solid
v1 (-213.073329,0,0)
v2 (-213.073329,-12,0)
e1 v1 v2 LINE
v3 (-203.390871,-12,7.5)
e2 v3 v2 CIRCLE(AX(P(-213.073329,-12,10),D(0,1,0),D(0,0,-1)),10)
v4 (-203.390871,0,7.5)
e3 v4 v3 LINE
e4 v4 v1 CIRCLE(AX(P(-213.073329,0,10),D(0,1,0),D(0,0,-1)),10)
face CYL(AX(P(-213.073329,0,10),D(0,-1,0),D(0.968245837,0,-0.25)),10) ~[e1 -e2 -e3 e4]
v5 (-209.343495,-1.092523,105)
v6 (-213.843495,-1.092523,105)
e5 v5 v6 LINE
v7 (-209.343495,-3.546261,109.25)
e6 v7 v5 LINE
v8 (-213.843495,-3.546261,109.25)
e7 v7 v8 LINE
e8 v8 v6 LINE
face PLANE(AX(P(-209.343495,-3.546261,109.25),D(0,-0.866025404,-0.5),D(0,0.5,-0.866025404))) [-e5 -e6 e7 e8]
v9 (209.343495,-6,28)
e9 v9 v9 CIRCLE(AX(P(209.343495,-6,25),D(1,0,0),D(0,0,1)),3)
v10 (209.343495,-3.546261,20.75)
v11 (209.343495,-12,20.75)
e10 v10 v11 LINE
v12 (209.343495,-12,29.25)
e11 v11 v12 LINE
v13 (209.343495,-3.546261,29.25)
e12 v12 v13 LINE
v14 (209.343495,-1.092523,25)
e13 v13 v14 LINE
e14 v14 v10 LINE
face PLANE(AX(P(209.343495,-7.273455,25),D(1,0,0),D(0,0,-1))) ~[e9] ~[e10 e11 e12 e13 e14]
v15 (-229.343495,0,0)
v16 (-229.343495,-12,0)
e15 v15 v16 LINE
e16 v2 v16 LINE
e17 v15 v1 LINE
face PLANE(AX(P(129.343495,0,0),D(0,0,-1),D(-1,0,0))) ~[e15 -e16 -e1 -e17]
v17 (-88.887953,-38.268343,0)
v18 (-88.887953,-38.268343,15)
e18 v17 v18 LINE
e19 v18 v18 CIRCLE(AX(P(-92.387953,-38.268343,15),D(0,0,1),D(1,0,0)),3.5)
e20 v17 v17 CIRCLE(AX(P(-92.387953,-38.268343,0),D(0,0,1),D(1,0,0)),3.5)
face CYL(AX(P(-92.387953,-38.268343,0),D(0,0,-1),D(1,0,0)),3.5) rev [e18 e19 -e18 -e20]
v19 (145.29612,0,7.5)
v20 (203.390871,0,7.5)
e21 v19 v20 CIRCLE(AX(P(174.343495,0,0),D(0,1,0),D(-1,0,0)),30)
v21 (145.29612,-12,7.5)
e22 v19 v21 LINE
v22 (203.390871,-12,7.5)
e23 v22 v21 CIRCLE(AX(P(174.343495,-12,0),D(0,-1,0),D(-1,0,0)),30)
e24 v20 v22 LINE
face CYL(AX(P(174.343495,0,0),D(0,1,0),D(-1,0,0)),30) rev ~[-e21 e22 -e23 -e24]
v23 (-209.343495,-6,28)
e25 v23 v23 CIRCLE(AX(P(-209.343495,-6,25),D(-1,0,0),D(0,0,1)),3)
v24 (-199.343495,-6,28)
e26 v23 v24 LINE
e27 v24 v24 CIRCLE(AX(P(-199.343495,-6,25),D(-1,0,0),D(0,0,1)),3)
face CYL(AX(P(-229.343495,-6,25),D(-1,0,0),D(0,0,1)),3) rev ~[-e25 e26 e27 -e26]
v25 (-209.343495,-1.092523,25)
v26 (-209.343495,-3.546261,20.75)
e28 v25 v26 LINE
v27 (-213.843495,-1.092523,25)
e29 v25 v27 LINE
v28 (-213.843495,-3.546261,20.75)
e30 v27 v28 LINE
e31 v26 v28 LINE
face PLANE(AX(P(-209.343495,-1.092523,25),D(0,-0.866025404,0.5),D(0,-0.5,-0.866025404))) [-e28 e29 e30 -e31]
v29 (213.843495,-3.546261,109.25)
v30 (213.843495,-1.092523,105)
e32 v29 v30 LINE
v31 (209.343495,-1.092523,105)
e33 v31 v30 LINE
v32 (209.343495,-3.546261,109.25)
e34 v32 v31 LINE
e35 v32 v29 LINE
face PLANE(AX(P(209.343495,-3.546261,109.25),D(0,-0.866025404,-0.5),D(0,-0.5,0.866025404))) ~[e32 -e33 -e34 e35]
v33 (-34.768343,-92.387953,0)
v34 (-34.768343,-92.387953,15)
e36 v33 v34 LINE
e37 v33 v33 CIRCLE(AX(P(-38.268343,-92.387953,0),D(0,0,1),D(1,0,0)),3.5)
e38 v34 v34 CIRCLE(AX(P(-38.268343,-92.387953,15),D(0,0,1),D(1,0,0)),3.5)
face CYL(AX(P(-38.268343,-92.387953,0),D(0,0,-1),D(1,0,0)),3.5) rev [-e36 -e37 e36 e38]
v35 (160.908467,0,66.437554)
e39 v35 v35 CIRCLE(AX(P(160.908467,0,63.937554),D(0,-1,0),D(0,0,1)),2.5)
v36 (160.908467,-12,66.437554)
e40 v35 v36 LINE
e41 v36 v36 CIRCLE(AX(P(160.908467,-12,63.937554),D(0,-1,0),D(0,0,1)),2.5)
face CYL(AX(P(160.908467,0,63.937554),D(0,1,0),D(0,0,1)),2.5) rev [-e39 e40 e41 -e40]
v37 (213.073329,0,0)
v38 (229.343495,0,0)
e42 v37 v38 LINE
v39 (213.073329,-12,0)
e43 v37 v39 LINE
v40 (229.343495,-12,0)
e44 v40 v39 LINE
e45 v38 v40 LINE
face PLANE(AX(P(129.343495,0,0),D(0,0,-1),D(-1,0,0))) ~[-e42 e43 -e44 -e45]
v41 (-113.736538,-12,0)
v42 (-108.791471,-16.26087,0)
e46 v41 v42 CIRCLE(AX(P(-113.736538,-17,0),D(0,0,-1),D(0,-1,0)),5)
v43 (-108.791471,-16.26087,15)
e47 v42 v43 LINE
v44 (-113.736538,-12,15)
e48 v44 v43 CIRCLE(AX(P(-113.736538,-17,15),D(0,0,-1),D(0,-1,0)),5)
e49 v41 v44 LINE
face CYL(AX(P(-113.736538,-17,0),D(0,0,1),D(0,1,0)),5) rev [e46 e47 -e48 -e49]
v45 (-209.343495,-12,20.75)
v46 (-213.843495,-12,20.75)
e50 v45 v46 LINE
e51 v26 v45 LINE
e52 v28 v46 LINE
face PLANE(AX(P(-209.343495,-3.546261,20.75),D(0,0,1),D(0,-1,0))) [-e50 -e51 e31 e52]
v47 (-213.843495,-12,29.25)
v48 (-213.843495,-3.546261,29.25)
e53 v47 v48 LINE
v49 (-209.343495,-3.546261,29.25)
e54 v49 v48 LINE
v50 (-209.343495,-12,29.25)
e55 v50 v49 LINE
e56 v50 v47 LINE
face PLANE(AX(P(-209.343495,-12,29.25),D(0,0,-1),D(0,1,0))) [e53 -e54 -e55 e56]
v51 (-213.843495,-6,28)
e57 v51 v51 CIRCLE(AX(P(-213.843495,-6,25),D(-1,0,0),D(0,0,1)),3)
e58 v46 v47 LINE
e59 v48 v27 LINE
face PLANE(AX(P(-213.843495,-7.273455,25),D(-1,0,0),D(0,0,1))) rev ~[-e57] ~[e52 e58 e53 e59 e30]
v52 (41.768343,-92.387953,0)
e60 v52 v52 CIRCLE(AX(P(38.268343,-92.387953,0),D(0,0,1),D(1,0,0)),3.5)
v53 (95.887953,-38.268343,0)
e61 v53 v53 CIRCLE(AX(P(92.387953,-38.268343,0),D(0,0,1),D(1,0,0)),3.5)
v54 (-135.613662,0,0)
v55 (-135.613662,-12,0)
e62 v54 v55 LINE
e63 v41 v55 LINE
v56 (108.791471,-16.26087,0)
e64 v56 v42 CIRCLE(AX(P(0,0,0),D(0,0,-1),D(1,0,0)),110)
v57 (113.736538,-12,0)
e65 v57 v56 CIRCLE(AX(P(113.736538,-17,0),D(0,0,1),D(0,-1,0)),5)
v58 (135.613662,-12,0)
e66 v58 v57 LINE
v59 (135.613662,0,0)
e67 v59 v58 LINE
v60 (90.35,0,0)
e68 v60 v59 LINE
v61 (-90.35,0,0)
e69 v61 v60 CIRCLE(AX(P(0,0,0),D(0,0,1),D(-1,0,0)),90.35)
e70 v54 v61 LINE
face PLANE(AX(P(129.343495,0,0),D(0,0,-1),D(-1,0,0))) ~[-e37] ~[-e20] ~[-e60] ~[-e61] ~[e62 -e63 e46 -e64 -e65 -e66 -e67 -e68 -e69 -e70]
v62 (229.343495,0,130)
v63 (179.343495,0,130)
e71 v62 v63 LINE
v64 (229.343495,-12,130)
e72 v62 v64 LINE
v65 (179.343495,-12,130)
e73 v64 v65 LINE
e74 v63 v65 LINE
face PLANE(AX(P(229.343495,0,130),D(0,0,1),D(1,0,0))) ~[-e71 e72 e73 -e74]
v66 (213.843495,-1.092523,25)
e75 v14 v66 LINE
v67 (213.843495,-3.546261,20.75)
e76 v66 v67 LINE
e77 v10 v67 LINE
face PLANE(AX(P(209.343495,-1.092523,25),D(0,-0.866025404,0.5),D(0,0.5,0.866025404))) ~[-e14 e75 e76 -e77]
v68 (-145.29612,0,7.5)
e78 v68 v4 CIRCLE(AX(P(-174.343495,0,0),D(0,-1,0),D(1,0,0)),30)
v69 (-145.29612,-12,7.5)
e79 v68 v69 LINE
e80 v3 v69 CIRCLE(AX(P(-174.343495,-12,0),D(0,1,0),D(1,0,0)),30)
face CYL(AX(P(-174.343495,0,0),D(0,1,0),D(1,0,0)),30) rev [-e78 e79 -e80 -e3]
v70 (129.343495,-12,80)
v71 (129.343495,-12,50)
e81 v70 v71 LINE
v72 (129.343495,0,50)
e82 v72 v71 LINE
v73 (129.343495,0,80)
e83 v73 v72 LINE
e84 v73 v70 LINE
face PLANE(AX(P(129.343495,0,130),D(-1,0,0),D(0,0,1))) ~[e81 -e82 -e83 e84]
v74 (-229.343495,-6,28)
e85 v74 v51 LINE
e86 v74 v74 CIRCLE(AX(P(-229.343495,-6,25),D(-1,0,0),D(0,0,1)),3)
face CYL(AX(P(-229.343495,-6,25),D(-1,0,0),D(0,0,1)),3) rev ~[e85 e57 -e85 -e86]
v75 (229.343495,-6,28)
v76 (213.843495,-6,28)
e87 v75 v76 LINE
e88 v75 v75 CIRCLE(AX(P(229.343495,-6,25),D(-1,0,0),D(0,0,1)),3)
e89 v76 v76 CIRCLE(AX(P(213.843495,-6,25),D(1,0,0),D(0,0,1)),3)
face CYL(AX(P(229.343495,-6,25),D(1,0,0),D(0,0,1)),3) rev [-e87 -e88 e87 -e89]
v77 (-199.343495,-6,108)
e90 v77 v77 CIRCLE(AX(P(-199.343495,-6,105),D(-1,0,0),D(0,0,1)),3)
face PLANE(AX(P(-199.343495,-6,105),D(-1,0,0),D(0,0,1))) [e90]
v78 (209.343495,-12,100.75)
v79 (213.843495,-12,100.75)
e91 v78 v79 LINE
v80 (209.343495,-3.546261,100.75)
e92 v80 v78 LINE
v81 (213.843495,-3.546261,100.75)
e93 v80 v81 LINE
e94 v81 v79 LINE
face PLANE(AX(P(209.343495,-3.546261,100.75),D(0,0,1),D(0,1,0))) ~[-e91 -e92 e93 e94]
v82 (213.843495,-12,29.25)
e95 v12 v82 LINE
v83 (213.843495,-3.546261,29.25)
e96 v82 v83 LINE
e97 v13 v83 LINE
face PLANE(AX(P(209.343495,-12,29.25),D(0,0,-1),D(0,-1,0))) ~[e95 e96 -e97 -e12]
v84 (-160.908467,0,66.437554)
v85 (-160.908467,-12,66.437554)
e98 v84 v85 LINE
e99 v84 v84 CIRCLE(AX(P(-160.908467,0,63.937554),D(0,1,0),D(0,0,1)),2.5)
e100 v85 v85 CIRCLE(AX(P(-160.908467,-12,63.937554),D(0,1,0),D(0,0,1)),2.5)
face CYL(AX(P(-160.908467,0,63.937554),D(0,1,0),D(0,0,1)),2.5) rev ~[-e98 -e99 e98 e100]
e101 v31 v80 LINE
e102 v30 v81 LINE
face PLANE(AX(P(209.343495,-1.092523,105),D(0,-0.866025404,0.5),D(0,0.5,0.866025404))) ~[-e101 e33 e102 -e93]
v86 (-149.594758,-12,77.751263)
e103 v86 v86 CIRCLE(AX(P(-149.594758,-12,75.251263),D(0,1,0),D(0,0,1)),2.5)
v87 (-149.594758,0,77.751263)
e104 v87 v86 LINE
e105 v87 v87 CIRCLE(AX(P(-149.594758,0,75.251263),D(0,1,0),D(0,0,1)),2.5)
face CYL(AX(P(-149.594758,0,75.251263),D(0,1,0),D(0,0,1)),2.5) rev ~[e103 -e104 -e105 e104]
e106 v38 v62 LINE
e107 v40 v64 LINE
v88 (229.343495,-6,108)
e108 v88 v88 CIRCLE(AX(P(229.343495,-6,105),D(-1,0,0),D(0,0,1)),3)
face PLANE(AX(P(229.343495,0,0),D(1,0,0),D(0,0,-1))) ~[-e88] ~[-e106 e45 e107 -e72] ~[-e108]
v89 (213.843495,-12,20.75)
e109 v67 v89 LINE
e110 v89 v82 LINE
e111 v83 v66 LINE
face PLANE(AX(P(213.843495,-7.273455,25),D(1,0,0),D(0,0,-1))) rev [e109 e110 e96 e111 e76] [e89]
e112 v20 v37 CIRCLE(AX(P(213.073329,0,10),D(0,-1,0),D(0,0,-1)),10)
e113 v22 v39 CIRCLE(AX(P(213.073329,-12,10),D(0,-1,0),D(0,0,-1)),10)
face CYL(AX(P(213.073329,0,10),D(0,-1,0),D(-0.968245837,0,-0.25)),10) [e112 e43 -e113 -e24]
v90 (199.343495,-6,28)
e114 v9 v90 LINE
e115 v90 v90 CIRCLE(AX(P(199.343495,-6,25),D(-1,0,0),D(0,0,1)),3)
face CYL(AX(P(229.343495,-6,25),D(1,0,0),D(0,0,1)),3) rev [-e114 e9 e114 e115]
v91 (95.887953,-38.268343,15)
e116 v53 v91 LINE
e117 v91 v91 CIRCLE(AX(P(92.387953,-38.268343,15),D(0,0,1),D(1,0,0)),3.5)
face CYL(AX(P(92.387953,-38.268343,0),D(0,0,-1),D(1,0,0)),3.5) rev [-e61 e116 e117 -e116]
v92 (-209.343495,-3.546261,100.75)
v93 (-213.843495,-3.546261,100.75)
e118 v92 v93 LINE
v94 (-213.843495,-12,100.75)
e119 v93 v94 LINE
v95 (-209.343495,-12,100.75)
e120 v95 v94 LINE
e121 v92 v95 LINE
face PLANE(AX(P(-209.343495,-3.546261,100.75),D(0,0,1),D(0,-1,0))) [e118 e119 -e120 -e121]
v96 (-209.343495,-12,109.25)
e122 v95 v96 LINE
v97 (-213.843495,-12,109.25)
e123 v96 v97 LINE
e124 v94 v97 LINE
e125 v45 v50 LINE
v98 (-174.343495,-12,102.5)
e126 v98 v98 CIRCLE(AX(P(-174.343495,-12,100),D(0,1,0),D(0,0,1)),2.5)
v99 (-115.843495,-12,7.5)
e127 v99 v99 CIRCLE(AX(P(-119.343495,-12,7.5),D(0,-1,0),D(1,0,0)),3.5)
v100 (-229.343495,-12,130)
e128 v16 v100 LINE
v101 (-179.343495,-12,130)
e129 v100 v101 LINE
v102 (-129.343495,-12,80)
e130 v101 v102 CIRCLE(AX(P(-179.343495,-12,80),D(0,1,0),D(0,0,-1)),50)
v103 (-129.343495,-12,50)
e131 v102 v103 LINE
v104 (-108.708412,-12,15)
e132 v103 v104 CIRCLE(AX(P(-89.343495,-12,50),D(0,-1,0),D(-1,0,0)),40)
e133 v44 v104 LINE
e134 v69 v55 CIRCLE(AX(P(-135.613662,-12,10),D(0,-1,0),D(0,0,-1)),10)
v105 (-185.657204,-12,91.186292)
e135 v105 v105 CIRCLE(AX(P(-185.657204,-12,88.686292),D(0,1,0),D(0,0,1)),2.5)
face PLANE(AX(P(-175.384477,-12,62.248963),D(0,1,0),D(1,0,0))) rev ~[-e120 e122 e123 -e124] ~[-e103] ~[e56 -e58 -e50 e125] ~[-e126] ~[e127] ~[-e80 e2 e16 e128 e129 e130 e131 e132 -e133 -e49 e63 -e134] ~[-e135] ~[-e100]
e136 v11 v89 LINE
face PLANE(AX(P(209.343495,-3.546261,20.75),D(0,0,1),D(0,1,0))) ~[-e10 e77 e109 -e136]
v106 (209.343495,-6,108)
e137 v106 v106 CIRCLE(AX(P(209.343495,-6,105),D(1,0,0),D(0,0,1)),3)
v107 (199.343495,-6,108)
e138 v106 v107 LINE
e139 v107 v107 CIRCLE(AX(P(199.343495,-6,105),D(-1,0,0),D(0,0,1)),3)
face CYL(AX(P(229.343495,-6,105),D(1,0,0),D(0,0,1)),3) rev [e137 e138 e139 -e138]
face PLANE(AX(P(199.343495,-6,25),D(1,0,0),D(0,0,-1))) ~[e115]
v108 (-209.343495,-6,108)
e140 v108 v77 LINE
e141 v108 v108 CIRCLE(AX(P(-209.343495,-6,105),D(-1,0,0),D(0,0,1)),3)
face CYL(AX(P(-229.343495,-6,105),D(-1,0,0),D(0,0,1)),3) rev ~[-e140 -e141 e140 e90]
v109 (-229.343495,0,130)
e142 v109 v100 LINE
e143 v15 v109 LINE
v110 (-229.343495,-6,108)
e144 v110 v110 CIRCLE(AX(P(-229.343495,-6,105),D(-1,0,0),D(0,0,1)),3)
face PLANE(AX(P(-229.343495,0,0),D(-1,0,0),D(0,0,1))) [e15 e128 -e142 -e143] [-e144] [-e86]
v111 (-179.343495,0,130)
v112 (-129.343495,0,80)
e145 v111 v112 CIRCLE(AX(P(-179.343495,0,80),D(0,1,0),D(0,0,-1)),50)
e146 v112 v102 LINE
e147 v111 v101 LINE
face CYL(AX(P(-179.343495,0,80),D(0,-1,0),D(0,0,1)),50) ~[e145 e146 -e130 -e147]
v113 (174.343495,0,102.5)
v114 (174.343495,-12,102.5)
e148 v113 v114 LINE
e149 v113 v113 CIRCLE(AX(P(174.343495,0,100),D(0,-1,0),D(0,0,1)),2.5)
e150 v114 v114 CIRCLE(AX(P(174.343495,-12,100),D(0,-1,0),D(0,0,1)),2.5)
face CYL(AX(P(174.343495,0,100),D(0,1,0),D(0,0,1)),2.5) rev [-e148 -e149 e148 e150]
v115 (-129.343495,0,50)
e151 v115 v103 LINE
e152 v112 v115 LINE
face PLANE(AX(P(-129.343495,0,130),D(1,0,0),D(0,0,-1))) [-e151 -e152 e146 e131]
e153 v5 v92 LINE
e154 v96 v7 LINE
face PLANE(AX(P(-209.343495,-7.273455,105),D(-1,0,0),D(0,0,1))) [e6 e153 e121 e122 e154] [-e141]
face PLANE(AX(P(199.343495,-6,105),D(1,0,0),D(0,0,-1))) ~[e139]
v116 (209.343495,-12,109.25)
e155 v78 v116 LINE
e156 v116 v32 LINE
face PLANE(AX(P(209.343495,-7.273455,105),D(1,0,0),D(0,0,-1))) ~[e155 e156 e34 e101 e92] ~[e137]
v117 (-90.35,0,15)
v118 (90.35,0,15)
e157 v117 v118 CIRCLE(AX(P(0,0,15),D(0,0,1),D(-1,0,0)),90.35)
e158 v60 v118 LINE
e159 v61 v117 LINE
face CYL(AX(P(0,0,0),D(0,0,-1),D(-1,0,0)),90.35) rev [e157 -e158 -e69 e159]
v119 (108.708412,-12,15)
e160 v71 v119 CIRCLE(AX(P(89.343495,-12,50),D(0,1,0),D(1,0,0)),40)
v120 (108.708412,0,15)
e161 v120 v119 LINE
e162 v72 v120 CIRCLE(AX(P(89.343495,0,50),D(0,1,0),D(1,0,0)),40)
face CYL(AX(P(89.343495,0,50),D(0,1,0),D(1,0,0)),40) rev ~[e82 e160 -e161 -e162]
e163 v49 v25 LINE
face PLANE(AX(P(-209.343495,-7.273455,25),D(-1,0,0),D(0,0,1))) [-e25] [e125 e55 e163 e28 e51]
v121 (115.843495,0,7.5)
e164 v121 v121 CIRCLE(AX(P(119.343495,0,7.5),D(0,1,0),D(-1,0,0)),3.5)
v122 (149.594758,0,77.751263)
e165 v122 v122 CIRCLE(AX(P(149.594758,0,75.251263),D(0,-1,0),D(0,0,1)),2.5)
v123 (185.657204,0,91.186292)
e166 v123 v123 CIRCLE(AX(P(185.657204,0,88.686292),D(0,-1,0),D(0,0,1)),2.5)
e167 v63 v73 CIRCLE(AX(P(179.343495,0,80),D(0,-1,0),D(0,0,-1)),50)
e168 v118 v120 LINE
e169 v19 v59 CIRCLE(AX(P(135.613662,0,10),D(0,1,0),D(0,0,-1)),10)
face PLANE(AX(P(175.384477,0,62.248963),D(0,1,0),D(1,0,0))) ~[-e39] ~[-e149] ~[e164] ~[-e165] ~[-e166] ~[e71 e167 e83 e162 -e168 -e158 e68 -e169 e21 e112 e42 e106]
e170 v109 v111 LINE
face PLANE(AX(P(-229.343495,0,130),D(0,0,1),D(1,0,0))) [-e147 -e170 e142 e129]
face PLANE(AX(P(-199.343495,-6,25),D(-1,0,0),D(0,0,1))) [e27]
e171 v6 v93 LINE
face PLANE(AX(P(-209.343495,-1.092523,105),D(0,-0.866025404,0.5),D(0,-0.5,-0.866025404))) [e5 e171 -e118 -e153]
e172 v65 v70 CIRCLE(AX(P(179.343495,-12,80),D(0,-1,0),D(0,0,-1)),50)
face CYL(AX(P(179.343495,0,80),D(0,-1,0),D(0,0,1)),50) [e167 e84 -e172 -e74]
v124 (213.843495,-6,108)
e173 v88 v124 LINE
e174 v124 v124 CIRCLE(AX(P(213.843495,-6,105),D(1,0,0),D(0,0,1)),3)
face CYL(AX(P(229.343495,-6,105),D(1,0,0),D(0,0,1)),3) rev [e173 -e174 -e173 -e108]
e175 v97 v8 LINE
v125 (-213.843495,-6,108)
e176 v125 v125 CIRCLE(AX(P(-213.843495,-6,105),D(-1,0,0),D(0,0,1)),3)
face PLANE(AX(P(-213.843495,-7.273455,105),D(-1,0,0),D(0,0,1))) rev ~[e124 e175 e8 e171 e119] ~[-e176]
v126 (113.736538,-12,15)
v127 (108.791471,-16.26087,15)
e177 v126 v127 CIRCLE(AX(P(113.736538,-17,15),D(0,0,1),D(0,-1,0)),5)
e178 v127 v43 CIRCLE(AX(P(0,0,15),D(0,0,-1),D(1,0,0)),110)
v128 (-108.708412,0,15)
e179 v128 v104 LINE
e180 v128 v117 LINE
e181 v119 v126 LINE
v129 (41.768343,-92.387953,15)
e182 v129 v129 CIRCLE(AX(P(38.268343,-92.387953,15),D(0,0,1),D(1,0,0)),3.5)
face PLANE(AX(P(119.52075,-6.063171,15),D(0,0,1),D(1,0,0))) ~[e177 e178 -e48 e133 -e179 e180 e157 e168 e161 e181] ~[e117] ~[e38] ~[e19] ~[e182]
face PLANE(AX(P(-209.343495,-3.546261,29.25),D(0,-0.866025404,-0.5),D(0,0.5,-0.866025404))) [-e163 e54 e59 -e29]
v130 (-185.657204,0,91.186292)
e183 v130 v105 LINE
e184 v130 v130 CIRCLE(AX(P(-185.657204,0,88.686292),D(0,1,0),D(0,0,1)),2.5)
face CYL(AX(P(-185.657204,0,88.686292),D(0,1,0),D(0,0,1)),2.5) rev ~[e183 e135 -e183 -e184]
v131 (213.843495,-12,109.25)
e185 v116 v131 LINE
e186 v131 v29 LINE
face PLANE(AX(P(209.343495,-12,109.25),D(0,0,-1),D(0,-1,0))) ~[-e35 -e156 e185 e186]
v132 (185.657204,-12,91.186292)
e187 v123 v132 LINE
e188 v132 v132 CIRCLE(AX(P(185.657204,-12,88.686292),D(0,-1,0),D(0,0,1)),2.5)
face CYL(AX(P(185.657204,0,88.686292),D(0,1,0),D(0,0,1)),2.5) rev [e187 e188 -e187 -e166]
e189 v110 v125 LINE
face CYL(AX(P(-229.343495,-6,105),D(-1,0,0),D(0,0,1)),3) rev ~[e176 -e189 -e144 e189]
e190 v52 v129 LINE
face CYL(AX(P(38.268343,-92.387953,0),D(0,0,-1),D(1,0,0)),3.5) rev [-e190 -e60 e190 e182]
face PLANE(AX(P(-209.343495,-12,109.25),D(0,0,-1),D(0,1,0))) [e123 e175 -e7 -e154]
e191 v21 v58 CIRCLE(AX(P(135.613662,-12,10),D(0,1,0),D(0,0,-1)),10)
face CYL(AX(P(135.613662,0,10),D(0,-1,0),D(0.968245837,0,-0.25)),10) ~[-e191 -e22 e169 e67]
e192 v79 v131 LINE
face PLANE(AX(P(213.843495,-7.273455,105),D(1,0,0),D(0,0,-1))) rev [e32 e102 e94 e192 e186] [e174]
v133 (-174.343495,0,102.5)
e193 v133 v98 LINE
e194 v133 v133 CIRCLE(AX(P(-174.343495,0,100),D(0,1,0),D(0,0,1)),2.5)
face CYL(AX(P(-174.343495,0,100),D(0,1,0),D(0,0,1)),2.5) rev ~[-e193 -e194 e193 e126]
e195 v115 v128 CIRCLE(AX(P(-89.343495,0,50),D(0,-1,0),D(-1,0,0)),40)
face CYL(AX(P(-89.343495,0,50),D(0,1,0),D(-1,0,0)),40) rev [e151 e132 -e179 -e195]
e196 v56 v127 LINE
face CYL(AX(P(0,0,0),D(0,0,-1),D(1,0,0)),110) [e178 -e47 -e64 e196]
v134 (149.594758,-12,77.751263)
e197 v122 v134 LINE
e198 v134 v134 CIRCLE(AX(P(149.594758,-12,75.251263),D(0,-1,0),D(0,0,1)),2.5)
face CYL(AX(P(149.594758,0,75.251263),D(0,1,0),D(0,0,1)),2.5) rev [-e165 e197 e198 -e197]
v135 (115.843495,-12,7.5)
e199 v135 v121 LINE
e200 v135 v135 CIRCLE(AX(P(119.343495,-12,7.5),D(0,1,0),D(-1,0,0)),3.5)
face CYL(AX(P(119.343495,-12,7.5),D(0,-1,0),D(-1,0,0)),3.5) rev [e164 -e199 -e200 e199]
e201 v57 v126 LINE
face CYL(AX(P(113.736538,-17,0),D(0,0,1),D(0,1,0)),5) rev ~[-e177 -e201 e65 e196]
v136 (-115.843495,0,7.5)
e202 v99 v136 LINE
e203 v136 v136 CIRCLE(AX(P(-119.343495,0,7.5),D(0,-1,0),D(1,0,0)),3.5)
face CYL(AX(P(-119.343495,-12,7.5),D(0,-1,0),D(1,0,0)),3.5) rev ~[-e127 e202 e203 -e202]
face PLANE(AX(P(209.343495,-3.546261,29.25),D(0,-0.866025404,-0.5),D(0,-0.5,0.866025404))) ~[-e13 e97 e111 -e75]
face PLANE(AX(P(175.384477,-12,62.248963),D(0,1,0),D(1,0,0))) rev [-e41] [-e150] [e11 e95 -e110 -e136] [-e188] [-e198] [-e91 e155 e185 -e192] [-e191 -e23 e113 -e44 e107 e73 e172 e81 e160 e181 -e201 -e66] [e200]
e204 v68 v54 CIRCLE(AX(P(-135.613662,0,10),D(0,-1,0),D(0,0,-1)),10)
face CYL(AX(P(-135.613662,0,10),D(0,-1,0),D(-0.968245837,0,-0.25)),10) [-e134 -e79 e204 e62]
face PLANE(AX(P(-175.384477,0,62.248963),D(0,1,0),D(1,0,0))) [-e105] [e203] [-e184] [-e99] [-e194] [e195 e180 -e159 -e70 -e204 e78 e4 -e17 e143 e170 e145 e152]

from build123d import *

# Parameters (mm, degrees)
SKETCH_1_R          = 3.5
EXTRUDE_1_DEPTH     = 15
EXTRUDE_START       = -15
EXTRUDE_2_DEPTH     = 15
CUT_EXTRUDE_1_REACH = 164.969
SKETCH_3_R          = 3.5
EXTRUDE_3_DEPTH     = 12
CUT_EXTRUDE_2_REACH = 287.654
SKETCH_7_R          = 2.5
SKETCH_8_R          = 3
CUT_EXTRUDE_3_DEPTH = 30
CUT_EXTRUDE_4_DEPTH = 4.5
FILLET_1_R          = 5
FILLET_4_R          = 5
FILLET_5_R          = 50
FILLET_6_R          = 50
CUT_EXTRUDE_5_REACH = 287.654
FILLET_7_R          = 10
FILLET_8_R          = 10
FILLET_9_R          = 10
FILLET_10_R         = 10


with BuildPart() as part:
    # 草图1 → 凸台-拉伸1 (new body)
    with BuildSketch(Plane.XY):
        with BuildLine():
            Line((-110, 0), (-90.35, 0))
            ThreePointArc((-90.35, 0), (0, -90.35), (90.35, 0))
            Line((90.35, 0), (110, 0))
            ThreePointArc((110, 0), (0, -110), (-110, 0))
        make_face()
        with Locations((38.268343237, -92.387953251)):
            Circle(SKETCH_1_R, mode=Mode.SUBTRACT)
        with Locations((-38.268343237, -92.387953251)):
            Circle(SKETCH_1_R, mode=Mode.SUBTRACT)
        with Locations((-92.387953251, -38.268343237)):
            Circle(SKETCH_1_R, mode=Mode.SUBTRACT)
        with Locations((92.387953251, -38.268343237)):
            Circle(SKETCH_1_R, mode=Mode.SUBTRACT)
    extrude(amount=EXTRUDE_1_DEPTH)

    # 草图2 → 凸台-拉伸2 (add)
    with BuildSketch(Plane.XY.offset(15).offset(EXTRUDE_START)):
        with BuildLine():
            Line((-110, 0), (-129.343495463, 0))
            Line((-129.343495463, 0), (-129.343495463, -12))
            Line((-129.343495463, -12), (-109.343495463, -12))
            ThreePointArc((-109.343495463, -12), (-109.83575124, -6.008972421), (-110, 0))
        make_face()
    extrude_2 = extrude(amount=EXTRUDE_2_DEPTH)

    # 草图3 → 切除-拉伸1 (cut, up to next)
    with BuildSketch(Plane.XZ.offset(12), mode=Mode.PRIVATE) as cut_extrude_1_sk1:
        with Locations((-119.343495463, 7.5)):
            Circle(SKETCH_3_R)
    cut_extrude_1_tool1 = extrude(cut_extrude_1_sk1.sketch, amount=-CUT_EXTRUDE_1_REACH, mode=Mode.PRIVATE) & part.part
    cut_extrude_1 = cut_extrude_1_tool1.solids().sort_by_distance((-119.343495, -12, 7.5))[0]
    add(cut_extrude_1, mode=Mode.SUBTRACT)

    # 镜向1: 凸台-拉伸2, 切除-拉伸1 across plane
    add(extrude_2.mirror(Plane(origin=(0, 0, 0), x_dir=(0, 0, 1), z_dir=(1, 0, 0))))
    add(cut_extrude_1.mirror(Plane(origin=(0, 0, 0), x_dir=(0, 0, 1), z_dir=(1, 0, 0))), mode=Mode.SUBTRACT)

    # 草图4 → 凸台-拉伸3 (add)
    with BuildSketch(Plane(origin=(0, 0, 0), x_dir=(1, 0, 0), z_dir=(0, 1, 0))):
        with BuildLine():
            Line((-129.343495463, 0), (-229.343495463, 0))
            Line((-229.343495463, 0), (-229.343495463, -130))
            Line((-229.343495463, -130), (-129.343495463, -130))
            Line((-129.343495463, -130), (-129.343495463, -50))
            ThreePointArc((-129.343495463, -50), (-123.80069115, -29.684939937), (-108.708412194, -15))
            Line((-108.708412194, -15), (-129.343495463, -15))
            Line((-129.343495463, -15), (-129.343495463, 0))
        make_face()
    extrude_3 = extrude(amount=-EXTRUDE_3_DEPTH)

    # 草图7 → 切除-拉伸2 (cut, up to next)
    with BuildSketch(Plane(origin=(0, 0, 0), x_dir=(1, 0, 0), z_dir=(0, 1, 0)), mode=Mode.PRIVATE) as cut_extrude_2_sk1:
        with Locations(Location((-185.657203962, -88.686291501, 0), (0, 0, 270))):
            Circle(SKETCH_7_R)
    cut_extrude_2_tool1 = extrude(cut_extrude_2_sk1.sketch, amount=-CUT_EXTRUDE_2_REACH, mode=Mode.PRIVATE) & part.part
    # 草图7 → 切除-拉伸2 (cut, up to next)
    with BuildSketch(Plane(origin=(0, 0, 0), x_dir=(1, 0, 0), z_dir=(0, 1, 0)), mode=Mode.PRIVATE) as cut_extrude_2_sk2:
        with Locations(Location((-174.343495463, -100, 0), (0, 0, 270))):
            Circle(SKETCH_7_R)
    cut_extrude_2_tool2 = extrude(cut_extrude_2_sk2.sketch, amount=-CUT_EXTRUDE_2_REACH, mode=Mode.PRIVATE) & part.part
    # 草图7 → 切除-拉伸2 (cut, up to next)
    with BuildSketch(Plane(origin=(0, 0, 0), x_dir=(1, 0, 0), z_dir=(0, 1, 0)), mode=Mode.PRIVATE) as cut_extrude_2_sk3:
        with Locations(Location((-160.90846662, -63.937554159, 0), (0, 0, 270))):
            Circle(SKETCH_7_R)
    cut_extrude_2_tool3 = extrude(cut_extrude_2_sk3.sketch, amount=-CUT_EXTRUDE_2_REACH, mode=Mode.PRIVATE) & part.part
    # 草图7 → 切除-拉伸2 (cut, up to next)
    with BuildSketch(Plane(origin=(0, 0, 0), x_dir=(1, 0, 0), z_dir=(0, 1, 0)), mode=Mode.PRIVATE) as cut_extrude_2_sk4:
        with Locations(Location((-149.594758121, -75.251262658, 0), (0, 0, 270))):
            Circle(SKETCH_7_R)
    cut_extrude_2_tool4 = extrude(cut_extrude_2_sk4.sketch, amount=-CUT_EXTRUDE_2_REACH, mode=Mode.PRIVATE) & part.part
    cut_extrude_2_1 = cut_extrude_2_tool1.solids().sort_by_distance((-185.657204, 0, 88.686292))[0]
    add(cut_extrude_2_1, mode=Mode.SUBTRACT)
    cut_extrude_2_2 = cut_extrude_2_tool2.solids().sort_by_distance((-174.343495, 0, 100))[0]
    add(cut_extrude_2_2, mode=Mode.SUBTRACT)
    cut_extrude_2_3 = cut_extrude_2_tool3.solids().sort_by_distance((-160.908467, 0, 63.937554))[0]
    add(cut_extrude_2_3, mode=Mode.SUBTRACT)
    cut_extrude_2_4 = cut_extrude_2_tool4.solids().sort_by_distance((-149.594758, 0, 75.251263))[0]
    add(cut_extrude_2_4, mode=Mode.SUBTRACT)
    cut_extrude_2 = cut_extrude_2_1 + cut_extrude_2_2 + cut_extrude_2_3 + cut_extrude_2_4  # 切除-拉伸2 as one shape, for the pattern or mirror that repeats it

    # 镜向2: 凸台-拉伸3, 切除-拉伸2 across plane
    add(extrude_3.mirror(Plane(origin=(0, 0, 0), x_dir=(0, 0, 1), z_dir=(1, 0, 0))))
    add(cut_extrude_2.mirror(Plane(origin=(0, 0, 0), x_dir=(0, 0, 1), z_dir=(1, 0, 0))), mode=Mode.SUBTRACT)

    # 草图8 → 切除-拉伸3 (cut)
    with BuildSketch(Plane.ZY.offset(229.343495463)):
        with Locations((25, -6)):
            Circle(SKETCH_8_R)
        with Locations((105, -6)):
            Circle(SKETCH_8_R)
    cut_extrude_3 = extrude(amount=-CUT_EXTRUDE_3_DEPTH, mode=Mode.SUBTRACT)

    # 草图9 → 切除-拉伸4 (cut)
    with BuildSketch(Plane.ZY.offset(209.343495463)):
        Polygon((20.75, -8.085865128), (20.75, -12), (29.25, -12), (29.25, -8.263652951), (29.25, -3.546261356), (25, -1.092522712), (20.75, -3.546261356), align=None)
        Polygon((109.25, -3.546261356), (105, -1.092522712), (100.75, -3.546261356), (100.75, -8.085865128), (100.75, -12), (109.25, -12), (109.25, -8.263684809), align=None)
    cut_extrude_4 = extrude(amount=CUT_EXTRUDE_4_DEPTH, mode=Mode.SUBTRACT)

    # 圆角1
    fillet_1_edges = [part.edges().sort_by_distance(p)[0] for p in [
        (-109.343495463, -12, 7.5),
    ]]
    fillet(fillet_1_edges, radius=FILLET_1_R)

    # 圆角4
    fillet_4_edges = [part.edges().sort_by_distance(p)[0] for p in [
        (109.343495463, -12, 7.5),
    ]]
    fillet(fillet_4_edges, radius=FILLET_4_R)

    # 镜向4: 切除-拉伸3, 切除-拉伸4 across plane
    add(cut_extrude_3.mirror(Plane(origin=(0, 0, 0), x_dir=(0, 0, 1), z_dir=(1, 0, 0))), mode=Mode.SUBTRACT)
    add(cut_extrude_4.mirror(Plane(origin=(0, 0, 0), x_dir=(0, 0, 1), z_dir=(1, 0, 0))), mode=Mode.SUBTRACT)

    # 圆角5
    fillet_5_edges = [part.edges().sort_by_distance(p)[0] for p in [
        (-129.343495463, -6, 130),
    ]]
    fillet(fillet_5_edges, radius=FILLET_5_R)

    # 圆角6
    fillet_6_edges = [part.edges().sort_by_distance(p)[0] for p in [
        (129.343495463, -6, 130),
    ]]
    fillet(fillet_6_edges, radius=FILLET_6_R)

    # 草图10 → 切除-拉伸5 (cut, up to next)
    with BuildSketch(Plane(origin=(0, 0, 0), x_dir=(1, 0, 0), z_dir=(0, 1, 0)), mode=Mode.PRIVATE) as cut_extrude_5_sk1:
        with BuildLine():
            Line((-204.343495463, 0), (-144.343495463, 0))
            ThreePointArc((-144.343495463, 0), (-174.343495463, -30), (-204.343495463, 0))
        make_face()
    cut_extrude_5_tool1 = extrude(cut_extrude_5_sk1.sketch, amount=-CUT_EXTRUDE_5_REACH, mode=Mode.PRIVATE) & part.part
    cut_extrude_5 = cut_extrude_5_tool1.solids().sort_by_distance((-174.343495, 0, 12.732395))[0]
    add(cut_extrude_5, mode=Mode.SUBTRACT)

    # 圆角7
    fillet_7_edges = [part.edges().sort_by_distance(p)[0] for p in [
        (-204.343495463, -6, 0),
    ]]
    fillet(fillet_7_edges, radius=FILLET_7_R)

    # 圆角8
    fillet_8_edges = [part.edges().sort_by_distance(p)[0] for p in [
        (-144.343495463, -6, 0),
    ]]
    fillet(fillet_8_edges, radius=FILLET_8_R)

    # 镜向8: 切除-拉伸5 across plane
    add(cut_extrude_5.mirror(Plane(origin=(0, 0, 0), x_dir=(0, 0, 1), z_dir=(1, 0, 0))), mode=Mode.SUBTRACT)

    # 圆角9
    fillet_9_edges = [part.edges().sort_by_distance(p)[0] for p in [
        (204.343495463, -6, 0),
    ]]
    fillet(fillet_9_edges, radius=FILLET_9_R)

    # 圆角10
    fillet_10_edges = [part.edges().sort_by_distance(p)[0] for p in [
        (144.343495463, -6, 0),
    ]]
    fillet(fillet_10_edges, radius=FILLET_10_R)


solid = part.part
